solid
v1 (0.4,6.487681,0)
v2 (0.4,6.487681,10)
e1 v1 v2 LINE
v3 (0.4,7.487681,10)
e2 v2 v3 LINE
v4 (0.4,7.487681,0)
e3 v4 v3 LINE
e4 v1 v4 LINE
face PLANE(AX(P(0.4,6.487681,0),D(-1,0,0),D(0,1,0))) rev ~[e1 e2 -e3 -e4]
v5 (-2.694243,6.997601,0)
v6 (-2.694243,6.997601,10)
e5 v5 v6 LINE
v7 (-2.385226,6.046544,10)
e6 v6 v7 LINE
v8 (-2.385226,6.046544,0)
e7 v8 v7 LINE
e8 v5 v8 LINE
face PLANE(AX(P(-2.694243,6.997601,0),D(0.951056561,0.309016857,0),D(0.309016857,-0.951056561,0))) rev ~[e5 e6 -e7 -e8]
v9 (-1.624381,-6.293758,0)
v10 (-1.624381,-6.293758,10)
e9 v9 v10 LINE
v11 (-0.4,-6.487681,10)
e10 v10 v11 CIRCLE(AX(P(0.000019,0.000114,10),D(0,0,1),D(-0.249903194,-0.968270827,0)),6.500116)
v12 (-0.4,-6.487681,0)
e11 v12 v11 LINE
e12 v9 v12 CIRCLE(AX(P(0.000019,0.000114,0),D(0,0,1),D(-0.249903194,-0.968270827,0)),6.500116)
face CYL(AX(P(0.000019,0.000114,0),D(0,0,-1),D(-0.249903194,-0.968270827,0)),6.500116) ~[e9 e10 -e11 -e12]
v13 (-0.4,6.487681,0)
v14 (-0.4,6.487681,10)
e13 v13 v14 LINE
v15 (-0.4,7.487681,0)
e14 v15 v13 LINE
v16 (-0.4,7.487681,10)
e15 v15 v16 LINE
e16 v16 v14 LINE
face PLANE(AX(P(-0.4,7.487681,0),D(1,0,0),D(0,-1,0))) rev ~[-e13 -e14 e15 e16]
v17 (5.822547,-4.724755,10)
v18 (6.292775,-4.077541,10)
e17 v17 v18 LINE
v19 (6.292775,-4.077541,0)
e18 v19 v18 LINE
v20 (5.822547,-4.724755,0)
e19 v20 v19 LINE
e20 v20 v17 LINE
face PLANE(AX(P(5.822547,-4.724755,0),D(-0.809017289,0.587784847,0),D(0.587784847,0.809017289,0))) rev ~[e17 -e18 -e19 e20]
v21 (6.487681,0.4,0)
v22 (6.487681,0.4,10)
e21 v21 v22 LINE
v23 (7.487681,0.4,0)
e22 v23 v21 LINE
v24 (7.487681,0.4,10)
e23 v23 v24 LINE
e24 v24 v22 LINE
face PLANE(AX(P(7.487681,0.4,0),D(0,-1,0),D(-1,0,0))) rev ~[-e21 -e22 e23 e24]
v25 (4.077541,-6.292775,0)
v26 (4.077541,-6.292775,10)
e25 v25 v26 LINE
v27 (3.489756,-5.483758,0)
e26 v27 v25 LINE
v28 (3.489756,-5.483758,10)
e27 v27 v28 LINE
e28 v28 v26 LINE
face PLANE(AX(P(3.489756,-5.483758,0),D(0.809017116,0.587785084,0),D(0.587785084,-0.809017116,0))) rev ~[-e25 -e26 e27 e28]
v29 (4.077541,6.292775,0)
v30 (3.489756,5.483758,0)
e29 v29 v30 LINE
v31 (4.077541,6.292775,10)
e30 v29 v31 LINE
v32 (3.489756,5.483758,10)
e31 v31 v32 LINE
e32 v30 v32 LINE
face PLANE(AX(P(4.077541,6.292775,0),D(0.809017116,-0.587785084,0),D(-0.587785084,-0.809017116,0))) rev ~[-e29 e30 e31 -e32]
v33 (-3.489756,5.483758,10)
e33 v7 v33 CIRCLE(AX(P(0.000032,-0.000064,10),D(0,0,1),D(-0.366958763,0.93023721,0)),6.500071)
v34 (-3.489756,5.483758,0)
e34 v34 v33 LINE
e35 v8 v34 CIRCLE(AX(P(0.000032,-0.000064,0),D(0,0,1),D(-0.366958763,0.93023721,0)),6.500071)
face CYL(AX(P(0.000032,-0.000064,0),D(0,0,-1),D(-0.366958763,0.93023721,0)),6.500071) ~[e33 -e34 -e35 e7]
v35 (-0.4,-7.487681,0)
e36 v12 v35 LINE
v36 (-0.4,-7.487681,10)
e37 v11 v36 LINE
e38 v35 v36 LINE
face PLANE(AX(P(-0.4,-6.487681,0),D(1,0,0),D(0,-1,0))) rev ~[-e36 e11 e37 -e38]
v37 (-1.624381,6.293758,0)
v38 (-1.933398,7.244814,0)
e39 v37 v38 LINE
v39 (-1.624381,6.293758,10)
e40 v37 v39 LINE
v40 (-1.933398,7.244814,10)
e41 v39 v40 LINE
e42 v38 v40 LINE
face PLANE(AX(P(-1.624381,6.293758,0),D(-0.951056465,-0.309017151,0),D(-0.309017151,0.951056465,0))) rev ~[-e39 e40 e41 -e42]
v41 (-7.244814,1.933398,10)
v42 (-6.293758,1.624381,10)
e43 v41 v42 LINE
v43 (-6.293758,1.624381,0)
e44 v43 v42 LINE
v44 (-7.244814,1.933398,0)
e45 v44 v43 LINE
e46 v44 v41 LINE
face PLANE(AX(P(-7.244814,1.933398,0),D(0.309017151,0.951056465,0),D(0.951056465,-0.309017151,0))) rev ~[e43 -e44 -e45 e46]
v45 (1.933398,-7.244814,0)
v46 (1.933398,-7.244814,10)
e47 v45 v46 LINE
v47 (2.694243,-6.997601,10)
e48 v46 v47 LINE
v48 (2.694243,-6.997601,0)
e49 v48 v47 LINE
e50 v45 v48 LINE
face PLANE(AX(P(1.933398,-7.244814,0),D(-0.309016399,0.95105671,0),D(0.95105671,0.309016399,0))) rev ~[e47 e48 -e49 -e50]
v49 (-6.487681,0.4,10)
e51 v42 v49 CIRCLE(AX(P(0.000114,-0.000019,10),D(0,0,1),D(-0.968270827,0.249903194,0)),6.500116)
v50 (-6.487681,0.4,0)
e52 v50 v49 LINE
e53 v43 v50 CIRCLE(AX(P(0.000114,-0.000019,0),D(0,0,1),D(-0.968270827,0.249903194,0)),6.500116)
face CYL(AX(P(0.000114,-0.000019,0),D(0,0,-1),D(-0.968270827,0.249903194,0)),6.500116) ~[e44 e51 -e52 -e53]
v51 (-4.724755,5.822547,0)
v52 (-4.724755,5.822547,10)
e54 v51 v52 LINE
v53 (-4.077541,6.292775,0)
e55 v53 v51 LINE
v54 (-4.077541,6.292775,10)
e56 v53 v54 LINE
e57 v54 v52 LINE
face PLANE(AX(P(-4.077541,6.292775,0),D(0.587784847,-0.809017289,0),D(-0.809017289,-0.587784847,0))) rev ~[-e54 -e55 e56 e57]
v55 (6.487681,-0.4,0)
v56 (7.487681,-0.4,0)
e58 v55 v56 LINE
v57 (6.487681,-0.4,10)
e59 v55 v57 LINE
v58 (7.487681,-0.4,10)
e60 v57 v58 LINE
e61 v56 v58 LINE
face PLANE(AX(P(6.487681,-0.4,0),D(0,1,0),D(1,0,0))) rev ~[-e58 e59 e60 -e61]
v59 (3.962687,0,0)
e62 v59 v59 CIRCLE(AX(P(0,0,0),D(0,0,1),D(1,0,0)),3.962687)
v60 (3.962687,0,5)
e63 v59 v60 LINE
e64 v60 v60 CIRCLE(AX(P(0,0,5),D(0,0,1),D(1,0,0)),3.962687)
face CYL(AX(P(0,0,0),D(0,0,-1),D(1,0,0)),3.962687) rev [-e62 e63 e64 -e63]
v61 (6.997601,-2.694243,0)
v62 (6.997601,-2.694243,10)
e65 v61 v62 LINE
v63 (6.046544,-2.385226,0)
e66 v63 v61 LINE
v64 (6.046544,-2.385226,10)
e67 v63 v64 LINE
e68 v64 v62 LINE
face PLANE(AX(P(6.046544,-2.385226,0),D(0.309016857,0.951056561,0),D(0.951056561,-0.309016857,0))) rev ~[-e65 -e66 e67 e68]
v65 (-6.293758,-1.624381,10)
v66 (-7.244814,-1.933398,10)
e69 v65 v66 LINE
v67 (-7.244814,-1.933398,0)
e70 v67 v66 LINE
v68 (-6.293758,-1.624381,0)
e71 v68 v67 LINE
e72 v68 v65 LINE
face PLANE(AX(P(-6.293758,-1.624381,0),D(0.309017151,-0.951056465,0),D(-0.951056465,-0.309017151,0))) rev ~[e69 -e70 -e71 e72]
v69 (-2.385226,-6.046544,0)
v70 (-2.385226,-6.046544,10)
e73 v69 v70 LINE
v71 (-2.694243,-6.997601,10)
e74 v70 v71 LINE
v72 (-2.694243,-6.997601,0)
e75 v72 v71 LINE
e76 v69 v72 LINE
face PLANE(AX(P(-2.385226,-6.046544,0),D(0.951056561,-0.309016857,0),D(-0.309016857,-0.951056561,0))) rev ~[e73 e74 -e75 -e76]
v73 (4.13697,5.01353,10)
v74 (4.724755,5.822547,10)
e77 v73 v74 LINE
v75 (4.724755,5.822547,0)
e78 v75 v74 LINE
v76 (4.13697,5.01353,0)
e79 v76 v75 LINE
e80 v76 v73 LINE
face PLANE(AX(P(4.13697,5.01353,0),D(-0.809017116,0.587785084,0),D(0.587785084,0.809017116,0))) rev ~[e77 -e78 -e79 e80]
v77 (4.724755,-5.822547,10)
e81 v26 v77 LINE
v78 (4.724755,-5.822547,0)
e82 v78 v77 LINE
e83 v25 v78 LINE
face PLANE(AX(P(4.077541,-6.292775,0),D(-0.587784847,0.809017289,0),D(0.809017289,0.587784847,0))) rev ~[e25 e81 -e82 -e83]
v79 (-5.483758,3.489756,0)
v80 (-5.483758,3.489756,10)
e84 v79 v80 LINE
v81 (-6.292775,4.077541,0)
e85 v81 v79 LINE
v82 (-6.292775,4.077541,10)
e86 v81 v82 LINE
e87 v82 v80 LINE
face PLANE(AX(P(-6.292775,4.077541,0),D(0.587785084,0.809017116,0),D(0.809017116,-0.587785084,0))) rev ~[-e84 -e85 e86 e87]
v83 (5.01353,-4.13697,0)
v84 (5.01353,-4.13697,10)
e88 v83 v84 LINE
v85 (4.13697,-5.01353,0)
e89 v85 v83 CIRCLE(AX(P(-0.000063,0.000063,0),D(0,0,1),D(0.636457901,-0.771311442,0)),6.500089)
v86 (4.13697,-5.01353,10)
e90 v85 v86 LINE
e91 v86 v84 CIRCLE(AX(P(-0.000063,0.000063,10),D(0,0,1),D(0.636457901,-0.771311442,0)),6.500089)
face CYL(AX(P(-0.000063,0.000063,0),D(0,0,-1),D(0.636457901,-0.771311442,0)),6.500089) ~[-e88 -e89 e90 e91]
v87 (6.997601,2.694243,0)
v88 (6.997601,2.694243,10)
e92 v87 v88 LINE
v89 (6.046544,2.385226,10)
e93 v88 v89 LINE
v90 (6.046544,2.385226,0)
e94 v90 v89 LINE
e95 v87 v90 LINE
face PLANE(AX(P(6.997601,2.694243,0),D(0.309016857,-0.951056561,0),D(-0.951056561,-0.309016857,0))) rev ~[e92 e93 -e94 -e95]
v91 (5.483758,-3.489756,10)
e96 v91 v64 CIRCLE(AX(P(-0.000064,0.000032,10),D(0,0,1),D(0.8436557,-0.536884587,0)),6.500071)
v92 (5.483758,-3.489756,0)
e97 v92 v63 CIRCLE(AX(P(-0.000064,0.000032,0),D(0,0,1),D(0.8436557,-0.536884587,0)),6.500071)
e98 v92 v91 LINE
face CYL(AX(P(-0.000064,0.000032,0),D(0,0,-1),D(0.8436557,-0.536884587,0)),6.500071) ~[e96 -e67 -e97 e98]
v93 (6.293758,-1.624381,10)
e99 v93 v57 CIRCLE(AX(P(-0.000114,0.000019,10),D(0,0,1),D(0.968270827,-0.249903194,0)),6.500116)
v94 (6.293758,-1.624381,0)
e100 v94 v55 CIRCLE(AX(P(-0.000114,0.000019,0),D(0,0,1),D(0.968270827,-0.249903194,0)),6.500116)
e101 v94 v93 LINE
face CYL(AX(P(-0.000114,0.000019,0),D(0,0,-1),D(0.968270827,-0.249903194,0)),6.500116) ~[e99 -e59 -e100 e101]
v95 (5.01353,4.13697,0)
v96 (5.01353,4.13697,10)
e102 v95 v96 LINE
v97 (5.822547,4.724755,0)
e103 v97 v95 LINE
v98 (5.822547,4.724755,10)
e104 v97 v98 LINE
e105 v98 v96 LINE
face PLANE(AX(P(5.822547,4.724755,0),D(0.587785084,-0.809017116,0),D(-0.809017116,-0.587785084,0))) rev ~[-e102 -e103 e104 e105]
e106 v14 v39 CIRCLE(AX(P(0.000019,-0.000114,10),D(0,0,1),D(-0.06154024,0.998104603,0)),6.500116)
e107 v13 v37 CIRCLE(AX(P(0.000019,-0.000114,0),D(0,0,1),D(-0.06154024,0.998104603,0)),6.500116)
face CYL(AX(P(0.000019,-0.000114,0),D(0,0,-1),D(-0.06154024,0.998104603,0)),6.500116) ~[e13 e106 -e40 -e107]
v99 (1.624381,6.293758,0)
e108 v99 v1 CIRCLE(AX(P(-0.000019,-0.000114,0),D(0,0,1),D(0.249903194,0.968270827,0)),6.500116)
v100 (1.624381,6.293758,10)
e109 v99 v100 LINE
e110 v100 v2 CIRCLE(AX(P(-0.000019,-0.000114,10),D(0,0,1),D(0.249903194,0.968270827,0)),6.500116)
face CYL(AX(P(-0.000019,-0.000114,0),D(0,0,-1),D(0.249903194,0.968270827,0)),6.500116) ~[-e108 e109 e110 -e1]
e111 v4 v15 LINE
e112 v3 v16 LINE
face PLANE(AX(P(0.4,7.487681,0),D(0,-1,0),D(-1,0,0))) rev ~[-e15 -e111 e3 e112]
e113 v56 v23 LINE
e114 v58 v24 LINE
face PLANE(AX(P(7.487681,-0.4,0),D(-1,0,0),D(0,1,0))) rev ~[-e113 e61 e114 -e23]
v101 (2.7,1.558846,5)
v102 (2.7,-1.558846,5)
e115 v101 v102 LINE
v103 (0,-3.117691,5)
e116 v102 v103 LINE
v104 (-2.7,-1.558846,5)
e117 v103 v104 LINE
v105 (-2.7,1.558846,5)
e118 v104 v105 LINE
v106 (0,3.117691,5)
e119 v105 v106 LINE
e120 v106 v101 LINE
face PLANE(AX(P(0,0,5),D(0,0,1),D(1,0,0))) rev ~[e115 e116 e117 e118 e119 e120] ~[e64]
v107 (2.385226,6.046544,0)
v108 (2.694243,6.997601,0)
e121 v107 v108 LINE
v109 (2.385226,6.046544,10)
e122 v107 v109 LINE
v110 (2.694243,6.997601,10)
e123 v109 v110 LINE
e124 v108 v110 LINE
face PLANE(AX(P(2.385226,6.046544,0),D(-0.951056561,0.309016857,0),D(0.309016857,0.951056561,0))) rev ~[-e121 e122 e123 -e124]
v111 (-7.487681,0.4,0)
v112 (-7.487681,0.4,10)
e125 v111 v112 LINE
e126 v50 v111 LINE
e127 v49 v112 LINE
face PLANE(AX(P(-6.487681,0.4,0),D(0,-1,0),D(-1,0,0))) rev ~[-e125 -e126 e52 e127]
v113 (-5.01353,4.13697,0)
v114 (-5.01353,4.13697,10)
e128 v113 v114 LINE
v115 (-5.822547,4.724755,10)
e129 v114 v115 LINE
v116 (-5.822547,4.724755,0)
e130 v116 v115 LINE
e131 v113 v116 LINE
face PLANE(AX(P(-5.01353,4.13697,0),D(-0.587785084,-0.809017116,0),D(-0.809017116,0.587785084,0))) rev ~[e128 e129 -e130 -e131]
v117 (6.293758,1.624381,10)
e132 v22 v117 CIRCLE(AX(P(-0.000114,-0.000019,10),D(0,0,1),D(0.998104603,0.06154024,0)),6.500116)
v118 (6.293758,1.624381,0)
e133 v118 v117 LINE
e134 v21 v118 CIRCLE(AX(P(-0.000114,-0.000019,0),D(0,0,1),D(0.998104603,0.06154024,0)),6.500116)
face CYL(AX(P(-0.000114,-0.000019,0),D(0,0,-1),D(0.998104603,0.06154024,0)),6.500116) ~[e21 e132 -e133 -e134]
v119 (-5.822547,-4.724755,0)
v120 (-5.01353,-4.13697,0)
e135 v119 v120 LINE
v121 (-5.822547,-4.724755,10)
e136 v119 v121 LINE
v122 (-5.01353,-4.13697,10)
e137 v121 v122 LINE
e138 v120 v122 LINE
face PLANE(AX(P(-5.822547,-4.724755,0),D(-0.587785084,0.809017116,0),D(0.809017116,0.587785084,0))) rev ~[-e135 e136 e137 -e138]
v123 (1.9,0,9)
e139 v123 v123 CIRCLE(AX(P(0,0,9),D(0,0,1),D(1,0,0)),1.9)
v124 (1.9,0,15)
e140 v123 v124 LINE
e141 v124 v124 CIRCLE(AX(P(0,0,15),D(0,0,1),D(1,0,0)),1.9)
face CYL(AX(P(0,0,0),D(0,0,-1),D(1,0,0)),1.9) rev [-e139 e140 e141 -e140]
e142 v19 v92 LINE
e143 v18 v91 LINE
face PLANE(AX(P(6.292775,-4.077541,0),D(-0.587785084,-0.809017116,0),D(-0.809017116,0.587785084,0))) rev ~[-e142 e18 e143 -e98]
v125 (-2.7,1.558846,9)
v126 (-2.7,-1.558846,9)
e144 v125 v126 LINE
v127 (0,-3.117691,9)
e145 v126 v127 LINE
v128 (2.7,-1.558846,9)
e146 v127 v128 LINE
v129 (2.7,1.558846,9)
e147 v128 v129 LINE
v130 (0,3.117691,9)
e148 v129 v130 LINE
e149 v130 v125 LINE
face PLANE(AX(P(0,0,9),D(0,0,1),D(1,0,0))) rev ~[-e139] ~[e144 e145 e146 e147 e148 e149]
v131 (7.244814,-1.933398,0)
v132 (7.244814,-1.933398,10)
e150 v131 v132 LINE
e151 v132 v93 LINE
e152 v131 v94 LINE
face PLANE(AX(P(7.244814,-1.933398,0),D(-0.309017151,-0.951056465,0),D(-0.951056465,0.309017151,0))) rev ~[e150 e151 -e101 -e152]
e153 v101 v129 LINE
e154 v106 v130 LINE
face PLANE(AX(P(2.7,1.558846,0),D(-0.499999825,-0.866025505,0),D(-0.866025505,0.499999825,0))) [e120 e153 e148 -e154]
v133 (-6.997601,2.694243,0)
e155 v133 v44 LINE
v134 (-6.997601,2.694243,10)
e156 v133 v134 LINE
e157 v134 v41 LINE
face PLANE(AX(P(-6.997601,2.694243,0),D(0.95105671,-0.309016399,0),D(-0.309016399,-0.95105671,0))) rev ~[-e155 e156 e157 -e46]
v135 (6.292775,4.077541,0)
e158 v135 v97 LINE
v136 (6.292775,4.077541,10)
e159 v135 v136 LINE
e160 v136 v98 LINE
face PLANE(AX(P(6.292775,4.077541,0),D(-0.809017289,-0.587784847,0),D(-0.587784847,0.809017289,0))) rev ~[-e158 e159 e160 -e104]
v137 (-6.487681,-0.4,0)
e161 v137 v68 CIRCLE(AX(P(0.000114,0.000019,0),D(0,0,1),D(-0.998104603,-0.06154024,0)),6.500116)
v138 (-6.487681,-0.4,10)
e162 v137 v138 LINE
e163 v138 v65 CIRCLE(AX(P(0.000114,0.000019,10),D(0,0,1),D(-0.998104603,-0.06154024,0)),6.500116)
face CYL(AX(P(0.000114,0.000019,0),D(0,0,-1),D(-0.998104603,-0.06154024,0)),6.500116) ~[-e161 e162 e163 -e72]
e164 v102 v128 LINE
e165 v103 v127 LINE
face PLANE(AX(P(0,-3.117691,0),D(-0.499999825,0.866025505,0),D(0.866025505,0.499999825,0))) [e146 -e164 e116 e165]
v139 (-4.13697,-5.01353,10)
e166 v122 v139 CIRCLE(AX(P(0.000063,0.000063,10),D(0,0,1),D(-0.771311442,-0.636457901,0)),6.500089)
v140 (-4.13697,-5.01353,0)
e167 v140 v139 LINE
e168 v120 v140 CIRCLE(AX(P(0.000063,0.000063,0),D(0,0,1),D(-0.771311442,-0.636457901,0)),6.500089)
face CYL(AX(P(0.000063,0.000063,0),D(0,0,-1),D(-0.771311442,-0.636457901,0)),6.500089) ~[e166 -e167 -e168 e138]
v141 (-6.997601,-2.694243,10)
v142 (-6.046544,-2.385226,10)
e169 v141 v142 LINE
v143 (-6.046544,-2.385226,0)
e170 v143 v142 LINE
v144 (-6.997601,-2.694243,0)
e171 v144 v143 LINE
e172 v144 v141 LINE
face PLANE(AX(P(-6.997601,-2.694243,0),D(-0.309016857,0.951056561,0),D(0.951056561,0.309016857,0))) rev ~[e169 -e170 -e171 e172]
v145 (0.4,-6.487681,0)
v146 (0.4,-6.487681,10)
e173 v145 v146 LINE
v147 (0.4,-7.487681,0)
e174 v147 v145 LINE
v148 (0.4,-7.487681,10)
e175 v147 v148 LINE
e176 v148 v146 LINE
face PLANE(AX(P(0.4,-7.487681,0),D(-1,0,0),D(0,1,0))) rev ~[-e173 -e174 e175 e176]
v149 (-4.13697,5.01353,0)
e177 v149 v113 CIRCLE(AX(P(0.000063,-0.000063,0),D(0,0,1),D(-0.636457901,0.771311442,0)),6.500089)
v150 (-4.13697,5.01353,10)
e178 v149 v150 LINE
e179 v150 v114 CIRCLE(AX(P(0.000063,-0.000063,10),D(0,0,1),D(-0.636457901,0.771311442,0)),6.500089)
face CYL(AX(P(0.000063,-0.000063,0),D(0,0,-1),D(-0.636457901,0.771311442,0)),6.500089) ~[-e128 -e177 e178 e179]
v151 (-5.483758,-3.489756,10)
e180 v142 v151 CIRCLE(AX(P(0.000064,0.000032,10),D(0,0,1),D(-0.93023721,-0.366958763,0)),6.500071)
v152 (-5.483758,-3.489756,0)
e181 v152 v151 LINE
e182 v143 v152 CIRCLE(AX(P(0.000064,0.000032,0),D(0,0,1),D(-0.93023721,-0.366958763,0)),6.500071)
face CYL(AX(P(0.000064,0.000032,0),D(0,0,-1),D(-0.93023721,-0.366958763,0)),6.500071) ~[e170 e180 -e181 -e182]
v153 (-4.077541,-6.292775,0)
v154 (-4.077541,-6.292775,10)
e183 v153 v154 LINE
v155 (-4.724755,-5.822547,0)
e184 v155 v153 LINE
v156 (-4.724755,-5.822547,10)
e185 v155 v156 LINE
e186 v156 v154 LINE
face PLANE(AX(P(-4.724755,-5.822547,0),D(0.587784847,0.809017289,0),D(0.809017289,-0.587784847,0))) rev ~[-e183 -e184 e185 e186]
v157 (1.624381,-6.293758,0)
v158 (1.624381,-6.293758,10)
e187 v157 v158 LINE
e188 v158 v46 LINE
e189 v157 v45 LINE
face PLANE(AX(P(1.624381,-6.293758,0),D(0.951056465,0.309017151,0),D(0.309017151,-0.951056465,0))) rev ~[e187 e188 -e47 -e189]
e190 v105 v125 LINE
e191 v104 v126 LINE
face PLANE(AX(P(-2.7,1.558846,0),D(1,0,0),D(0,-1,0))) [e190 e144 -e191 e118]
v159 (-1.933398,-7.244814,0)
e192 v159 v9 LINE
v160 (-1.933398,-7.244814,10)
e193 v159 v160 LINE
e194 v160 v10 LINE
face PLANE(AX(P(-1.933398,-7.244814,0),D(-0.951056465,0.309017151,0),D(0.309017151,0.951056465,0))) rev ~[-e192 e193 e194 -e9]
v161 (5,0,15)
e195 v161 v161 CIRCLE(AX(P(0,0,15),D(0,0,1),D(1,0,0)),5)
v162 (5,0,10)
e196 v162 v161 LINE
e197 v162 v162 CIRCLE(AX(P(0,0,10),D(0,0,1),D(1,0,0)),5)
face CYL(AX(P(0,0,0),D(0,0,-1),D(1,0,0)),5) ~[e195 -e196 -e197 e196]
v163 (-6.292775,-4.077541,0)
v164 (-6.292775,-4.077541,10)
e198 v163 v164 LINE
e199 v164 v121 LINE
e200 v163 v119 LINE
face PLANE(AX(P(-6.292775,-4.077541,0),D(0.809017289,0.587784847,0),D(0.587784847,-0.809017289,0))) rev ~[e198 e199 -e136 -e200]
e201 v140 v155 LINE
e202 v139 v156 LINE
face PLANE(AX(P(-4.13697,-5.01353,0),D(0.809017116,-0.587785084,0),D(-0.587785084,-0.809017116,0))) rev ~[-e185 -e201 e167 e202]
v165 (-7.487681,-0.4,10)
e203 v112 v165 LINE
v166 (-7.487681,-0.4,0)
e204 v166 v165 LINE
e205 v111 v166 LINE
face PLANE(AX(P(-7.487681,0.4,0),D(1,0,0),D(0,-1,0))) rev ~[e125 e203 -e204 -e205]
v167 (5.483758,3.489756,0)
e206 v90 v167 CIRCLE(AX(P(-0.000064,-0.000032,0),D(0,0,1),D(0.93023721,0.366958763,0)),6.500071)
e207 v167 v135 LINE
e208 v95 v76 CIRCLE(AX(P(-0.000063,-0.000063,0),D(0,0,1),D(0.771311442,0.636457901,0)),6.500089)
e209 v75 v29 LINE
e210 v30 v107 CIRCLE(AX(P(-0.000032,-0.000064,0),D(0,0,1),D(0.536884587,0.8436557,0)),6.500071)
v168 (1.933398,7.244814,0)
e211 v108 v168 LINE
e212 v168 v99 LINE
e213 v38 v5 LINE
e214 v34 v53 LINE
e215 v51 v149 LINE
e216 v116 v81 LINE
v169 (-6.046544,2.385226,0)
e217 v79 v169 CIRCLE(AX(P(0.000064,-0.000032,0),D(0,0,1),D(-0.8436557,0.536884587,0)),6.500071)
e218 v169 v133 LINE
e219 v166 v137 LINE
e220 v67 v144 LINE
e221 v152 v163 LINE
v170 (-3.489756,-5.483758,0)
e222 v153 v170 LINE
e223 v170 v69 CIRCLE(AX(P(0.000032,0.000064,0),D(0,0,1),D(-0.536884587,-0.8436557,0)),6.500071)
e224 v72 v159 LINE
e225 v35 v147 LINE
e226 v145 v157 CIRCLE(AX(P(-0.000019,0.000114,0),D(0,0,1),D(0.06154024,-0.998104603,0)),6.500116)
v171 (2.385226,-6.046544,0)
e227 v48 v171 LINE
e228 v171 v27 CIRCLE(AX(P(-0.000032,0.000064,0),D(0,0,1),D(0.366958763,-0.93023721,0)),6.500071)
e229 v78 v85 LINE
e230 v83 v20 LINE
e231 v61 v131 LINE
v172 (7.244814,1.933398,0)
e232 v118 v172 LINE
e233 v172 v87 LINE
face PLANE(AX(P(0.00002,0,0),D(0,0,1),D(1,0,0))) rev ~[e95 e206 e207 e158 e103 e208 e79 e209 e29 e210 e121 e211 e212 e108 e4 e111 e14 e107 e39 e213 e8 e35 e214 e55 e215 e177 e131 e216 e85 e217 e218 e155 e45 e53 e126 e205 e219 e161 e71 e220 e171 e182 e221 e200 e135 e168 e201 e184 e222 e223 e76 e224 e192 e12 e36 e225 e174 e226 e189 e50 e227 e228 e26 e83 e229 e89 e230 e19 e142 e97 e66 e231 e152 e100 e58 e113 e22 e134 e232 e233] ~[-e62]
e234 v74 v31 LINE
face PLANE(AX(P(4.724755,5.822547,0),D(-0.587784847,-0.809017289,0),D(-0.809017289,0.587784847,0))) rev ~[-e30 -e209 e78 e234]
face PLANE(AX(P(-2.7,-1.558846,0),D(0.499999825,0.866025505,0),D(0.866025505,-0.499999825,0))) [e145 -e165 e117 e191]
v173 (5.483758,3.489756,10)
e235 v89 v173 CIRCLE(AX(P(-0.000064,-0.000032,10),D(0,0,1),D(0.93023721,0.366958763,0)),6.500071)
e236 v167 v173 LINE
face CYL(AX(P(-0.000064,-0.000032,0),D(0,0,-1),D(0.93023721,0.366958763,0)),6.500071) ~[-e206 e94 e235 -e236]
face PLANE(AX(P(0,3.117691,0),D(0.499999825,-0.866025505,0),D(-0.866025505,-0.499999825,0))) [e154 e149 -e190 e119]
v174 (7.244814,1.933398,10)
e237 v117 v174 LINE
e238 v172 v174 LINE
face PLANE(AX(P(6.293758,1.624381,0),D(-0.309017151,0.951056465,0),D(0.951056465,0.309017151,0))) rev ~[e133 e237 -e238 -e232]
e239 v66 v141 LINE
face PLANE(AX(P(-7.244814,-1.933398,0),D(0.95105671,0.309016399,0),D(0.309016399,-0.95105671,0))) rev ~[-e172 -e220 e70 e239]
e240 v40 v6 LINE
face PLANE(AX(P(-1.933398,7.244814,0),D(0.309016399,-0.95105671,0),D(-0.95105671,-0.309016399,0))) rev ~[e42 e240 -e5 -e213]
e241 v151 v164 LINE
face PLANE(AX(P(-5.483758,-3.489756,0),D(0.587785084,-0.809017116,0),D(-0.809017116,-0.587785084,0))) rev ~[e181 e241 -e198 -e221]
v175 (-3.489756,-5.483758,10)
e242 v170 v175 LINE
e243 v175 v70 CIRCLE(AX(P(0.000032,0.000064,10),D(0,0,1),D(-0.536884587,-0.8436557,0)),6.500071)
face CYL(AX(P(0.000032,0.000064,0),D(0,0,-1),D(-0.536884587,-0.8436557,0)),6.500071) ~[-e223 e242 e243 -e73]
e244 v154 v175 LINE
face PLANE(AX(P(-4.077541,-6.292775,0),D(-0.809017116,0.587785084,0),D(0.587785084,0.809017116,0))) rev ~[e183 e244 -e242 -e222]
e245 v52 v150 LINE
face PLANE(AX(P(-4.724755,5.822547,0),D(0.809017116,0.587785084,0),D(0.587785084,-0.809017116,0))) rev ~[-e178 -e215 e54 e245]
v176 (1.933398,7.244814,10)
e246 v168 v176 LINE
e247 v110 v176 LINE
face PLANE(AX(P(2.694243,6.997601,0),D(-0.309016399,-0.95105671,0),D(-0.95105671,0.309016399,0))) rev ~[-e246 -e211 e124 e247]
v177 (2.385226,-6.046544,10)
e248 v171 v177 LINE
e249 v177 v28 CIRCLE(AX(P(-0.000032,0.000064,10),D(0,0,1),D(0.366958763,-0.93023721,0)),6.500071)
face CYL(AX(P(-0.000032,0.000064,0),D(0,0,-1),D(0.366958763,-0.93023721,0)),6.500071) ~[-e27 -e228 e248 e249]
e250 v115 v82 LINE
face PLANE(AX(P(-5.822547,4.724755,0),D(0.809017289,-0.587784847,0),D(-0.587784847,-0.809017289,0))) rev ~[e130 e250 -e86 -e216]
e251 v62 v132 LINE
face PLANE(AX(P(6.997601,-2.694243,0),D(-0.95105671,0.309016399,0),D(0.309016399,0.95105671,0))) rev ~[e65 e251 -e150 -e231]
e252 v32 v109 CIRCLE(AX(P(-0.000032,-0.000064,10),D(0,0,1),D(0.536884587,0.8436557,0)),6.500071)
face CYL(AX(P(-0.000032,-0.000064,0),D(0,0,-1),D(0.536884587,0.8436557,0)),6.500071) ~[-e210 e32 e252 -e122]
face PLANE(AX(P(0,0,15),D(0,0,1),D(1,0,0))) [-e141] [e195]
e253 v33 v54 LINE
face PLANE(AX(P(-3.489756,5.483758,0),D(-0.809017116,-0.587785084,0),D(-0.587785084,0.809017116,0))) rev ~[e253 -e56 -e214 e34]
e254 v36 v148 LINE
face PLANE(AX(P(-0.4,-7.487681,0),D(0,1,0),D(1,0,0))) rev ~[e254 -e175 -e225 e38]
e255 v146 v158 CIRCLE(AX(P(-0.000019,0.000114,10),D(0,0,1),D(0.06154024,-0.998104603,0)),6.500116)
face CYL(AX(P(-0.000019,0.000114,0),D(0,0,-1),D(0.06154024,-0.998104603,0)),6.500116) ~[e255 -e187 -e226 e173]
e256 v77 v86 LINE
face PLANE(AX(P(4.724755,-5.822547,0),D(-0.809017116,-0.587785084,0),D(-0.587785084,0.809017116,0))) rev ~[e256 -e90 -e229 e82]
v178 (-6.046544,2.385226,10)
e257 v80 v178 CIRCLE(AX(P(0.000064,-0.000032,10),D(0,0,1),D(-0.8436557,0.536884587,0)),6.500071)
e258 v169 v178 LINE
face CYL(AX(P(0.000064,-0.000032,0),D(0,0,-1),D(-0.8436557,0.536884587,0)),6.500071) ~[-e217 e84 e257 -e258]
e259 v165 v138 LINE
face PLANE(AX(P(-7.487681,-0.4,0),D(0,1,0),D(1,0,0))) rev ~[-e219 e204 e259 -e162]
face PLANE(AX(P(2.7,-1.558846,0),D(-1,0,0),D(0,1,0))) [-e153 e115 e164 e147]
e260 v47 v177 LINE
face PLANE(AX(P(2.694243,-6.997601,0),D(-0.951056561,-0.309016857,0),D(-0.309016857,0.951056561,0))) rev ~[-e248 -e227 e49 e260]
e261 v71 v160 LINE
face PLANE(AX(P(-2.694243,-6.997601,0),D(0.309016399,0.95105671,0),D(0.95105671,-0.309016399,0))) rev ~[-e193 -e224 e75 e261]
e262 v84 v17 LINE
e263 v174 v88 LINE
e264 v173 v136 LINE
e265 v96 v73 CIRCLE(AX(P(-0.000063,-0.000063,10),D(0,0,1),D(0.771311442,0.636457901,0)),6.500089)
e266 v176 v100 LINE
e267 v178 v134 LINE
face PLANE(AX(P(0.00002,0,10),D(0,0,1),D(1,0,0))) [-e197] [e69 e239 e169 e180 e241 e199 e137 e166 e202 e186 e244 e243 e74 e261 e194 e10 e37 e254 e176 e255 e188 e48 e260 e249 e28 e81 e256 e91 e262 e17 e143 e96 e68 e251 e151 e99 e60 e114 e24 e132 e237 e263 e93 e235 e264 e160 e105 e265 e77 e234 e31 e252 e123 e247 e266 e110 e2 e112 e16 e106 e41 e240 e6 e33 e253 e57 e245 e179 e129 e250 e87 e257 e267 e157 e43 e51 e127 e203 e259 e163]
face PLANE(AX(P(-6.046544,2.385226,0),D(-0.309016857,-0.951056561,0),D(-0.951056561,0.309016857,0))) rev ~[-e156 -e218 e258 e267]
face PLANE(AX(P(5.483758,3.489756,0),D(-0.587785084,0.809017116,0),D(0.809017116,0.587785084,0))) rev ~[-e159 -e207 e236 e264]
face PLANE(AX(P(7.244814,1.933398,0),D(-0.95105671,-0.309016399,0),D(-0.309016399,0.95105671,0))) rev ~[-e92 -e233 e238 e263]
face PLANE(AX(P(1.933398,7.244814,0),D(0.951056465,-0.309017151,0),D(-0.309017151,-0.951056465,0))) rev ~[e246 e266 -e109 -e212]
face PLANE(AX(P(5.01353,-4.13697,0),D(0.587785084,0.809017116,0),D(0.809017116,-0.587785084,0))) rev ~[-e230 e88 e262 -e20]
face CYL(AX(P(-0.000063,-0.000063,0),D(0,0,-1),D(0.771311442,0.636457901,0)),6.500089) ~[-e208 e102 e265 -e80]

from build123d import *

# Parameters (mm, degrees)
F0_R     = 5
F0_R_2   = 1.9
F1_DEPTH = 15
F2_DEPTH = 10
F3_R     = 3.962687
F4_DEPTH = 5
F3_R_2   = 1.9
F5_DEPTH = 9


with BuildPart() as f1:
    # F0 (on Top) → F1 (new body)
    with BuildSketch(Plane.XY):
        Circle(F0_R)
        Circle(F0_R_2, mode=Mode.SUBTRACT)
    extrude(amount=F1_DEPTH)

    # F0 (on Top) → F2 (join)
    with BuildSketch(Plane.XY):
        with BuildLine():
            ThreePointArc((6.487681, -0.4), (6.496919, -0.200095), (6.5, 0))
            ThreePointArc((6.5, 0), (6.496919, 0.200095), (6.487681, 0.4))
            ThreePointArc((6.487681, 0.4), (6.419974, 1.016824), (6.293758, 1.624381))
            ThreePointArc((6.293758, 1.624381), (6.181867, 2.00861), (6.046544, 2.385226))
            ThreePointArc((6.046544, 2.385226), (5.791542, 2.950938), (5.483758, 3.489756))
            ThreePointArc((5.483758, 3.489756), (5.25861, 3.820604), (5.01353, 4.13697))
            ThreePointArc((5.01353, 4.13697), (4.596194, 4.596194), (4.13697, 5.01353))
            ThreePointArc((4.13697, 5.01353), (3.820604, 5.25861), (3.489756, 5.483758))
            ThreePointArc((3.489756, 5.483758), (2.950938, 5.791542), (2.385226, 6.046544))
            ThreePointArc((2.385226, 6.046544), (2.00861, 6.181867), (1.624381, 6.293758))
            ThreePointArc((1.624381, 6.293758), (1.016824, 6.419974), (0.4, 6.487681))
            ThreePointArc((0.4, 6.487681), (0, 6.5), (-0.4, 6.487681))
            ThreePointArc((-0.4, 6.487681), (-1.016824, 6.419974), (-1.624381, 6.293758))
            ThreePointArc((-1.624381, 6.293758), (-2.00861, 6.181867), (-2.385226, 6.046544))
            ThreePointArc((-2.385226, 6.046544), (-2.950938, 5.791542), (-3.489756, 5.483758))
            ThreePointArc((-3.489756, 5.483758), (-3.820604, 5.25861), (-4.13697, 5.01353))
            ThreePointArc((-4.13697, 5.01353), (-4.596194, 4.596194), (-5.01353, 4.13697))
            ThreePointArc((-5.01353, 4.13697), (-5.25861, 3.820604), (-5.483758, 3.489756))
            ThreePointArc((-5.483758, 3.489756), (-5.791542, 2.950938), (-6.046544, 2.385226))
            ThreePointArc((-6.046544, 2.385226), (-6.181867, 2.00861), (-6.293758, 1.624381))
            ThreePointArc((-6.293758, 1.624381), (-6.419974, 1.016824), (-6.487681, 0.4))
            ThreePointArc((-6.487681, 0.4), (-6.5, 0), (-6.487681, -0.4))
            ThreePointArc((-6.487681, -0.4), (-6.419974, -1.016824), (-6.293758, -1.624381))
            ThreePointArc((-6.293758, -1.624381), (-6.181867, -2.00861), (-6.046544, -2.385226))
            ThreePointArc((-6.046544, -2.385226), (-5.791542, -2.950938), (-5.483758, -3.489756))
            ThreePointArc((-5.483758, -3.489756), (-5.25861, -3.820604), (-5.01353, -4.13697))
            ThreePointArc((-5.01353, -4.13697), (-4.596194, -4.596194), (-4.13697, -5.01353))
            ThreePointArc((-4.13697, -5.01353), (-3.820604, -5.25861), (-3.489756, -5.483758))
            ThreePointArc((-3.489756, -5.483758), (-2.950938, -5.791542), (-2.385226, -6.046544))
            ThreePointArc((-2.385226, -6.046544), (-2.00861, -6.181867), (-1.624381, -6.293758))
            ThreePointArc((-1.624381, -6.293758), (-1.016824, -6.419974), (-0.4, -6.487681))
            ThreePointArc((-0.4, -6.487681), (0, -6.5), (0.4, -6.487681))
            ThreePointArc((0.4, -6.487681), (1.016824, -6.419974), (1.624381, -6.293758))
            ThreePointArc((1.624381, -6.293758), (2.00861, -6.181867), (2.385226, -6.046544))
            ThreePointArc((2.385226, -6.046544), (2.950938, -5.791542), (3.489756, -5.483758))
            ThreePointArc((3.489756, -5.483758), (3.820604, -5.25861), (4.13697, -5.01353))
            ThreePointArc((4.13697, -5.01353), (4.596194, -4.596194), (5.01353, -4.13697))
            ThreePointArc((5.01353, -4.13697), (5.25861, -3.820604), (5.483758, -3.489756))
            ThreePointArc((5.483758, -3.489756), (5.791542, -2.950938), (6.046544, -2.385226))
            ThreePointArc((6.046544, -2.385226), (6.181867, -2.00861), (6.293758, -1.624381))
            ThreePointArc((6.293758, -1.624381), (6.419974, -1.016824), (6.487681, -0.4))
        make_face()
        Circle(F0_R, mode=Mode.SUBTRACT)
        with BuildLine():
            ThreePointArc((-5.483758, 3.489756), (-5.25861, 3.820604), (-5.01353, 4.13697))
            Line((-5.01353, 4.13697), (-5.822547, 4.724755))
            Line((-5.822547, 4.724755), (-6.292775, 4.077541))
            Line((-6.292775, 4.077541), (-5.483758, 3.489756))
        make_face()
        with BuildLine():
            ThreePointArc((-4.13697, 5.01353), (-3.820604, 5.25861), (-3.489756, 5.483758))
            Line((-3.489756, 5.483758), (-4.077541, 6.292775))
            Line((-4.077541, 6.292775), (-4.724755, 5.822547))
            Line((-4.724755, 5.822547), (-4.13697, 5.01353))
        make_face()
        with BuildLine():
            ThreePointArc((-6.487681, -0.4), (-6.5, 0), (-6.487681, 0.4))
            Line((-6.487681, 0.4), (-7.487681, 0.4))
            Line((-7.487681, 0.4), (-7.487681, -0.4))
            Line((-7.487681, -0.4), (-6.487681, -0.4))
        make_face()
        with BuildLine():
            Line((-6.997601, -2.694243), (-6.046544, -2.385226))
            ThreePointArc((-6.046544, -2.385226), (-6.181867, -2.00861), (-6.293758, -1.624381))
            Line((-6.293758, -1.624381), (-7.244814, -1.933398))
            Line((-7.244814, -1.933398), (-6.997601, -2.694243))
        make_face()
        with BuildLine():
            ThreePointArc((-6.293758, 1.624381), (-6.181867, 2.00861), (-6.046544, 2.385226))
            Line((-6.046544, 2.385226), (-6.997601, 2.694243))
            Line((-6.997601, 2.694243), (-7.244814, 1.933398))
            Line((-7.244814, 1.933398), (-6.293758, 1.624381))
        make_face()
        with BuildLine():
            Line((-5.822547, -4.724755), (-5.01353, -4.13697))
            ThreePointArc((-5.01353, -4.13697), (-5.25861, -3.820604), (-5.483758, -3.489756))
            Line((-5.483758, -3.489756), (-6.292775, -4.077541))
            Line((-6.292775, -4.077541), (-5.822547, -4.724755))
        make_face()
        with BuildLine():
            Line((-4.077541, -6.292775), (-3.489756, -5.483758))
            ThreePointArc((-3.489756, -5.483758), (-3.820604, -5.25861), (-4.13697, -5.01353))
            Line((-4.13697, -5.01353), (-4.724755, -5.822547))
            Line((-4.724755, -5.822547), (-4.077541, -6.292775))
        make_face()
        with BuildLine():
            Line((-1.933398, -7.244814), (-1.624381, -6.293758))
            ThreePointArc((-1.624381, -6.293758), (-2.00861, -6.181867), (-2.385226, -6.046544))
            Line((-2.385226, -6.046544), (-2.694243, -6.997601))
            Line((-2.694243, -6.997601), (-1.933398, -7.244814))
        make_face()
        with BuildLine():
            Line((0.4, -7.487681), (0.4, -6.487681))
            ThreePointArc((0.4, -6.487681), (0, -6.5), (-0.4, -6.487681))
            Line((-0.4, -6.487681), (-0.4, -7.487681))
            Line((-0.4, -7.487681), (0.4, -7.487681))
        make_face()
        with BuildLine():
            Line((2.694243, -6.997601), (2.385226, -6.046544))
            ThreePointArc((2.385226, -6.046544), (2.00861, -6.181867), (1.624381, -6.293758))
            Line((1.624381, -6.293758), (1.933398, -7.244814))
            Line((1.933398, -7.244814), (2.694243, -6.997601))
        make_face()
        with BuildLine():
            Line((4.724755, -5.822547), (4.13697, -5.01353))
            ThreePointArc((4.13697, -5.01353), (3.820604, -5.25861), (3.489756, -5.483758))
            Line((3.489756, -5.483758), (4.077541, -6.292775))
            Line((4.077541, -6.292775), (4.724755, -5.822547))
        make_face()
        with BuildLine():
            Line((7.244814, -1.933398), (6.293758, -1.624381))
            ThreePointArc((6.293758, -1.624381), (6.181867, -2.00861), (6.046544, -2.385226))
            Line((6.046544, -2.385226), (6.997601, -2.694243))
            Line((6.997601, -2.694243), (7.244814, -1.933398))
        make_face()
        with BuildLine():
            ThreePointArc((6.487681, 0.4), (6.496919, 0.200095), (6.5, 0))
            ThreePointArc((6.5, 0), (6.496919, -0.200095), (6.487681, -0.4))
            Line((6.487681, -0.4), (7.487681, -0.4))
            Line((7.487681, -0.4), (7.487681, 0.4))
            Line((7.487681, 0.4), (6.487681, 0.4))
        make_face()
        with BuildLine():
            ThreePointArc((6.046544, 2.385226), (6.181867, 2.00861), (6.293758, 1.624381))
            Line((6.293758, 1.624381), (7.244814, 1.933398))
            Line((7.244814, 1.933398), (6.997601, 2.694243))
            Line((6.997601, 2.694243), (6.046544, 2.385226))
        make_face()
        with BuildLine():
            ThreePointArc((3.489756, 5.483758), (3.820604, 5.25861), (4.13697, 5.01353))
            Line((4.13697, 5.01353), (4.724755, 5.822547))
            Line((4.724755, 5.822547), (4.077541, 6.292775))
            Line((4.077541, 6.292775), (3.489756, 5.483758))
        make_face()
        with BuildLine():
            Line((6.292775, -4.077541), (5.483758, -3.489756))
            ThreePointArc((5.483758, -3.489756), (5.25861, -3.820604), (5.01353, -4.13697))
            Line((5.01353, -4.13697), (5.822547, -4.724755))
            Line((5.822547, -4.724755), (6.292775, -4.077541))
        make_face()
        with BuildLine():
            ThreePointArc((5.01353, 4.13697), (5.25861, 3.820604), (5.483758, 3.489756))
            Line((5.483758, 3.489756), (6.292775, 4.077541))
            Line((6.292775, 4.077541), (5.822547, 4.724755))
            Line((5.822547, 4.724755), (5.01353, 4.13697))
        make_face()
        with BuildLine():
            ThreePointArc((1.624381, 6.293758), (2.00861, 6.181867), (2.385226, 6.046544))
            Line((2.385226, 6.046544), (2.694243, 6.997601))
            Line((2.694243, 6.997601), (1.933398, 7.244814))
            Line((1.933398, 7.244814), (1.624381, 6.293758))
        make_face()
        with BuildLine():
            ThreePointArc((-2.385226, 6.046544), (-2.00861, 6.181867), (-1.624381, 6.293758))
            Line((-1.624381, 6.293758), (-1.933398, 7.244814))
            Line((-1.933398, 7.244814), (-2.694243, 6.997601))
            Line((-2.694243, 6.997601), (-2.385226, 6.046544))
        make_face()
        with BuildLine():
            ThreePointArc((-0.4, 6.487681), (0, 6.5), (0.4, 6.487681))
            Line((0.4, 6.487681), (0.4, 7.487681))
            Line((0.4, 7.487681), (-0.4, 7.487681))
            Line((-0.4, 7.487681), (-0.4, 6.487681))
        make_face()
    extrude(amount=F2_DEPTH)

    # F3 (on face) → F4 (cut)
    with BuildSketch(Plane.XY):
        Circle(F3_R)
        Polygon((-2.7, 1.558846), (0, 3.117691), (2.7, 1.558846), (2.7, -1.558846), (0, -3.117691), (-2.7, -1.558846), align=None, mode=Mode.SUBTRACT)
    extrude(amount=F4_DEPTH, mode=Mode.SUBTRACT)

    # F3 (on face) → F5 (cut)
    with BuildSketch(Plane.XY):
        Polygon((2.7, 1.558846), (0, 3.117691), (-2.7, 1.558846), (-2.7, -1.558846), (0, -3.117691), (2.7, -1.558846), align=None)
        Circle(F3_R_2, mode=Mode.SUBTRACT)
    extrude(amount=F5_DEPTH, mode=Mode.SUBTRACT)


solid = f1.part
